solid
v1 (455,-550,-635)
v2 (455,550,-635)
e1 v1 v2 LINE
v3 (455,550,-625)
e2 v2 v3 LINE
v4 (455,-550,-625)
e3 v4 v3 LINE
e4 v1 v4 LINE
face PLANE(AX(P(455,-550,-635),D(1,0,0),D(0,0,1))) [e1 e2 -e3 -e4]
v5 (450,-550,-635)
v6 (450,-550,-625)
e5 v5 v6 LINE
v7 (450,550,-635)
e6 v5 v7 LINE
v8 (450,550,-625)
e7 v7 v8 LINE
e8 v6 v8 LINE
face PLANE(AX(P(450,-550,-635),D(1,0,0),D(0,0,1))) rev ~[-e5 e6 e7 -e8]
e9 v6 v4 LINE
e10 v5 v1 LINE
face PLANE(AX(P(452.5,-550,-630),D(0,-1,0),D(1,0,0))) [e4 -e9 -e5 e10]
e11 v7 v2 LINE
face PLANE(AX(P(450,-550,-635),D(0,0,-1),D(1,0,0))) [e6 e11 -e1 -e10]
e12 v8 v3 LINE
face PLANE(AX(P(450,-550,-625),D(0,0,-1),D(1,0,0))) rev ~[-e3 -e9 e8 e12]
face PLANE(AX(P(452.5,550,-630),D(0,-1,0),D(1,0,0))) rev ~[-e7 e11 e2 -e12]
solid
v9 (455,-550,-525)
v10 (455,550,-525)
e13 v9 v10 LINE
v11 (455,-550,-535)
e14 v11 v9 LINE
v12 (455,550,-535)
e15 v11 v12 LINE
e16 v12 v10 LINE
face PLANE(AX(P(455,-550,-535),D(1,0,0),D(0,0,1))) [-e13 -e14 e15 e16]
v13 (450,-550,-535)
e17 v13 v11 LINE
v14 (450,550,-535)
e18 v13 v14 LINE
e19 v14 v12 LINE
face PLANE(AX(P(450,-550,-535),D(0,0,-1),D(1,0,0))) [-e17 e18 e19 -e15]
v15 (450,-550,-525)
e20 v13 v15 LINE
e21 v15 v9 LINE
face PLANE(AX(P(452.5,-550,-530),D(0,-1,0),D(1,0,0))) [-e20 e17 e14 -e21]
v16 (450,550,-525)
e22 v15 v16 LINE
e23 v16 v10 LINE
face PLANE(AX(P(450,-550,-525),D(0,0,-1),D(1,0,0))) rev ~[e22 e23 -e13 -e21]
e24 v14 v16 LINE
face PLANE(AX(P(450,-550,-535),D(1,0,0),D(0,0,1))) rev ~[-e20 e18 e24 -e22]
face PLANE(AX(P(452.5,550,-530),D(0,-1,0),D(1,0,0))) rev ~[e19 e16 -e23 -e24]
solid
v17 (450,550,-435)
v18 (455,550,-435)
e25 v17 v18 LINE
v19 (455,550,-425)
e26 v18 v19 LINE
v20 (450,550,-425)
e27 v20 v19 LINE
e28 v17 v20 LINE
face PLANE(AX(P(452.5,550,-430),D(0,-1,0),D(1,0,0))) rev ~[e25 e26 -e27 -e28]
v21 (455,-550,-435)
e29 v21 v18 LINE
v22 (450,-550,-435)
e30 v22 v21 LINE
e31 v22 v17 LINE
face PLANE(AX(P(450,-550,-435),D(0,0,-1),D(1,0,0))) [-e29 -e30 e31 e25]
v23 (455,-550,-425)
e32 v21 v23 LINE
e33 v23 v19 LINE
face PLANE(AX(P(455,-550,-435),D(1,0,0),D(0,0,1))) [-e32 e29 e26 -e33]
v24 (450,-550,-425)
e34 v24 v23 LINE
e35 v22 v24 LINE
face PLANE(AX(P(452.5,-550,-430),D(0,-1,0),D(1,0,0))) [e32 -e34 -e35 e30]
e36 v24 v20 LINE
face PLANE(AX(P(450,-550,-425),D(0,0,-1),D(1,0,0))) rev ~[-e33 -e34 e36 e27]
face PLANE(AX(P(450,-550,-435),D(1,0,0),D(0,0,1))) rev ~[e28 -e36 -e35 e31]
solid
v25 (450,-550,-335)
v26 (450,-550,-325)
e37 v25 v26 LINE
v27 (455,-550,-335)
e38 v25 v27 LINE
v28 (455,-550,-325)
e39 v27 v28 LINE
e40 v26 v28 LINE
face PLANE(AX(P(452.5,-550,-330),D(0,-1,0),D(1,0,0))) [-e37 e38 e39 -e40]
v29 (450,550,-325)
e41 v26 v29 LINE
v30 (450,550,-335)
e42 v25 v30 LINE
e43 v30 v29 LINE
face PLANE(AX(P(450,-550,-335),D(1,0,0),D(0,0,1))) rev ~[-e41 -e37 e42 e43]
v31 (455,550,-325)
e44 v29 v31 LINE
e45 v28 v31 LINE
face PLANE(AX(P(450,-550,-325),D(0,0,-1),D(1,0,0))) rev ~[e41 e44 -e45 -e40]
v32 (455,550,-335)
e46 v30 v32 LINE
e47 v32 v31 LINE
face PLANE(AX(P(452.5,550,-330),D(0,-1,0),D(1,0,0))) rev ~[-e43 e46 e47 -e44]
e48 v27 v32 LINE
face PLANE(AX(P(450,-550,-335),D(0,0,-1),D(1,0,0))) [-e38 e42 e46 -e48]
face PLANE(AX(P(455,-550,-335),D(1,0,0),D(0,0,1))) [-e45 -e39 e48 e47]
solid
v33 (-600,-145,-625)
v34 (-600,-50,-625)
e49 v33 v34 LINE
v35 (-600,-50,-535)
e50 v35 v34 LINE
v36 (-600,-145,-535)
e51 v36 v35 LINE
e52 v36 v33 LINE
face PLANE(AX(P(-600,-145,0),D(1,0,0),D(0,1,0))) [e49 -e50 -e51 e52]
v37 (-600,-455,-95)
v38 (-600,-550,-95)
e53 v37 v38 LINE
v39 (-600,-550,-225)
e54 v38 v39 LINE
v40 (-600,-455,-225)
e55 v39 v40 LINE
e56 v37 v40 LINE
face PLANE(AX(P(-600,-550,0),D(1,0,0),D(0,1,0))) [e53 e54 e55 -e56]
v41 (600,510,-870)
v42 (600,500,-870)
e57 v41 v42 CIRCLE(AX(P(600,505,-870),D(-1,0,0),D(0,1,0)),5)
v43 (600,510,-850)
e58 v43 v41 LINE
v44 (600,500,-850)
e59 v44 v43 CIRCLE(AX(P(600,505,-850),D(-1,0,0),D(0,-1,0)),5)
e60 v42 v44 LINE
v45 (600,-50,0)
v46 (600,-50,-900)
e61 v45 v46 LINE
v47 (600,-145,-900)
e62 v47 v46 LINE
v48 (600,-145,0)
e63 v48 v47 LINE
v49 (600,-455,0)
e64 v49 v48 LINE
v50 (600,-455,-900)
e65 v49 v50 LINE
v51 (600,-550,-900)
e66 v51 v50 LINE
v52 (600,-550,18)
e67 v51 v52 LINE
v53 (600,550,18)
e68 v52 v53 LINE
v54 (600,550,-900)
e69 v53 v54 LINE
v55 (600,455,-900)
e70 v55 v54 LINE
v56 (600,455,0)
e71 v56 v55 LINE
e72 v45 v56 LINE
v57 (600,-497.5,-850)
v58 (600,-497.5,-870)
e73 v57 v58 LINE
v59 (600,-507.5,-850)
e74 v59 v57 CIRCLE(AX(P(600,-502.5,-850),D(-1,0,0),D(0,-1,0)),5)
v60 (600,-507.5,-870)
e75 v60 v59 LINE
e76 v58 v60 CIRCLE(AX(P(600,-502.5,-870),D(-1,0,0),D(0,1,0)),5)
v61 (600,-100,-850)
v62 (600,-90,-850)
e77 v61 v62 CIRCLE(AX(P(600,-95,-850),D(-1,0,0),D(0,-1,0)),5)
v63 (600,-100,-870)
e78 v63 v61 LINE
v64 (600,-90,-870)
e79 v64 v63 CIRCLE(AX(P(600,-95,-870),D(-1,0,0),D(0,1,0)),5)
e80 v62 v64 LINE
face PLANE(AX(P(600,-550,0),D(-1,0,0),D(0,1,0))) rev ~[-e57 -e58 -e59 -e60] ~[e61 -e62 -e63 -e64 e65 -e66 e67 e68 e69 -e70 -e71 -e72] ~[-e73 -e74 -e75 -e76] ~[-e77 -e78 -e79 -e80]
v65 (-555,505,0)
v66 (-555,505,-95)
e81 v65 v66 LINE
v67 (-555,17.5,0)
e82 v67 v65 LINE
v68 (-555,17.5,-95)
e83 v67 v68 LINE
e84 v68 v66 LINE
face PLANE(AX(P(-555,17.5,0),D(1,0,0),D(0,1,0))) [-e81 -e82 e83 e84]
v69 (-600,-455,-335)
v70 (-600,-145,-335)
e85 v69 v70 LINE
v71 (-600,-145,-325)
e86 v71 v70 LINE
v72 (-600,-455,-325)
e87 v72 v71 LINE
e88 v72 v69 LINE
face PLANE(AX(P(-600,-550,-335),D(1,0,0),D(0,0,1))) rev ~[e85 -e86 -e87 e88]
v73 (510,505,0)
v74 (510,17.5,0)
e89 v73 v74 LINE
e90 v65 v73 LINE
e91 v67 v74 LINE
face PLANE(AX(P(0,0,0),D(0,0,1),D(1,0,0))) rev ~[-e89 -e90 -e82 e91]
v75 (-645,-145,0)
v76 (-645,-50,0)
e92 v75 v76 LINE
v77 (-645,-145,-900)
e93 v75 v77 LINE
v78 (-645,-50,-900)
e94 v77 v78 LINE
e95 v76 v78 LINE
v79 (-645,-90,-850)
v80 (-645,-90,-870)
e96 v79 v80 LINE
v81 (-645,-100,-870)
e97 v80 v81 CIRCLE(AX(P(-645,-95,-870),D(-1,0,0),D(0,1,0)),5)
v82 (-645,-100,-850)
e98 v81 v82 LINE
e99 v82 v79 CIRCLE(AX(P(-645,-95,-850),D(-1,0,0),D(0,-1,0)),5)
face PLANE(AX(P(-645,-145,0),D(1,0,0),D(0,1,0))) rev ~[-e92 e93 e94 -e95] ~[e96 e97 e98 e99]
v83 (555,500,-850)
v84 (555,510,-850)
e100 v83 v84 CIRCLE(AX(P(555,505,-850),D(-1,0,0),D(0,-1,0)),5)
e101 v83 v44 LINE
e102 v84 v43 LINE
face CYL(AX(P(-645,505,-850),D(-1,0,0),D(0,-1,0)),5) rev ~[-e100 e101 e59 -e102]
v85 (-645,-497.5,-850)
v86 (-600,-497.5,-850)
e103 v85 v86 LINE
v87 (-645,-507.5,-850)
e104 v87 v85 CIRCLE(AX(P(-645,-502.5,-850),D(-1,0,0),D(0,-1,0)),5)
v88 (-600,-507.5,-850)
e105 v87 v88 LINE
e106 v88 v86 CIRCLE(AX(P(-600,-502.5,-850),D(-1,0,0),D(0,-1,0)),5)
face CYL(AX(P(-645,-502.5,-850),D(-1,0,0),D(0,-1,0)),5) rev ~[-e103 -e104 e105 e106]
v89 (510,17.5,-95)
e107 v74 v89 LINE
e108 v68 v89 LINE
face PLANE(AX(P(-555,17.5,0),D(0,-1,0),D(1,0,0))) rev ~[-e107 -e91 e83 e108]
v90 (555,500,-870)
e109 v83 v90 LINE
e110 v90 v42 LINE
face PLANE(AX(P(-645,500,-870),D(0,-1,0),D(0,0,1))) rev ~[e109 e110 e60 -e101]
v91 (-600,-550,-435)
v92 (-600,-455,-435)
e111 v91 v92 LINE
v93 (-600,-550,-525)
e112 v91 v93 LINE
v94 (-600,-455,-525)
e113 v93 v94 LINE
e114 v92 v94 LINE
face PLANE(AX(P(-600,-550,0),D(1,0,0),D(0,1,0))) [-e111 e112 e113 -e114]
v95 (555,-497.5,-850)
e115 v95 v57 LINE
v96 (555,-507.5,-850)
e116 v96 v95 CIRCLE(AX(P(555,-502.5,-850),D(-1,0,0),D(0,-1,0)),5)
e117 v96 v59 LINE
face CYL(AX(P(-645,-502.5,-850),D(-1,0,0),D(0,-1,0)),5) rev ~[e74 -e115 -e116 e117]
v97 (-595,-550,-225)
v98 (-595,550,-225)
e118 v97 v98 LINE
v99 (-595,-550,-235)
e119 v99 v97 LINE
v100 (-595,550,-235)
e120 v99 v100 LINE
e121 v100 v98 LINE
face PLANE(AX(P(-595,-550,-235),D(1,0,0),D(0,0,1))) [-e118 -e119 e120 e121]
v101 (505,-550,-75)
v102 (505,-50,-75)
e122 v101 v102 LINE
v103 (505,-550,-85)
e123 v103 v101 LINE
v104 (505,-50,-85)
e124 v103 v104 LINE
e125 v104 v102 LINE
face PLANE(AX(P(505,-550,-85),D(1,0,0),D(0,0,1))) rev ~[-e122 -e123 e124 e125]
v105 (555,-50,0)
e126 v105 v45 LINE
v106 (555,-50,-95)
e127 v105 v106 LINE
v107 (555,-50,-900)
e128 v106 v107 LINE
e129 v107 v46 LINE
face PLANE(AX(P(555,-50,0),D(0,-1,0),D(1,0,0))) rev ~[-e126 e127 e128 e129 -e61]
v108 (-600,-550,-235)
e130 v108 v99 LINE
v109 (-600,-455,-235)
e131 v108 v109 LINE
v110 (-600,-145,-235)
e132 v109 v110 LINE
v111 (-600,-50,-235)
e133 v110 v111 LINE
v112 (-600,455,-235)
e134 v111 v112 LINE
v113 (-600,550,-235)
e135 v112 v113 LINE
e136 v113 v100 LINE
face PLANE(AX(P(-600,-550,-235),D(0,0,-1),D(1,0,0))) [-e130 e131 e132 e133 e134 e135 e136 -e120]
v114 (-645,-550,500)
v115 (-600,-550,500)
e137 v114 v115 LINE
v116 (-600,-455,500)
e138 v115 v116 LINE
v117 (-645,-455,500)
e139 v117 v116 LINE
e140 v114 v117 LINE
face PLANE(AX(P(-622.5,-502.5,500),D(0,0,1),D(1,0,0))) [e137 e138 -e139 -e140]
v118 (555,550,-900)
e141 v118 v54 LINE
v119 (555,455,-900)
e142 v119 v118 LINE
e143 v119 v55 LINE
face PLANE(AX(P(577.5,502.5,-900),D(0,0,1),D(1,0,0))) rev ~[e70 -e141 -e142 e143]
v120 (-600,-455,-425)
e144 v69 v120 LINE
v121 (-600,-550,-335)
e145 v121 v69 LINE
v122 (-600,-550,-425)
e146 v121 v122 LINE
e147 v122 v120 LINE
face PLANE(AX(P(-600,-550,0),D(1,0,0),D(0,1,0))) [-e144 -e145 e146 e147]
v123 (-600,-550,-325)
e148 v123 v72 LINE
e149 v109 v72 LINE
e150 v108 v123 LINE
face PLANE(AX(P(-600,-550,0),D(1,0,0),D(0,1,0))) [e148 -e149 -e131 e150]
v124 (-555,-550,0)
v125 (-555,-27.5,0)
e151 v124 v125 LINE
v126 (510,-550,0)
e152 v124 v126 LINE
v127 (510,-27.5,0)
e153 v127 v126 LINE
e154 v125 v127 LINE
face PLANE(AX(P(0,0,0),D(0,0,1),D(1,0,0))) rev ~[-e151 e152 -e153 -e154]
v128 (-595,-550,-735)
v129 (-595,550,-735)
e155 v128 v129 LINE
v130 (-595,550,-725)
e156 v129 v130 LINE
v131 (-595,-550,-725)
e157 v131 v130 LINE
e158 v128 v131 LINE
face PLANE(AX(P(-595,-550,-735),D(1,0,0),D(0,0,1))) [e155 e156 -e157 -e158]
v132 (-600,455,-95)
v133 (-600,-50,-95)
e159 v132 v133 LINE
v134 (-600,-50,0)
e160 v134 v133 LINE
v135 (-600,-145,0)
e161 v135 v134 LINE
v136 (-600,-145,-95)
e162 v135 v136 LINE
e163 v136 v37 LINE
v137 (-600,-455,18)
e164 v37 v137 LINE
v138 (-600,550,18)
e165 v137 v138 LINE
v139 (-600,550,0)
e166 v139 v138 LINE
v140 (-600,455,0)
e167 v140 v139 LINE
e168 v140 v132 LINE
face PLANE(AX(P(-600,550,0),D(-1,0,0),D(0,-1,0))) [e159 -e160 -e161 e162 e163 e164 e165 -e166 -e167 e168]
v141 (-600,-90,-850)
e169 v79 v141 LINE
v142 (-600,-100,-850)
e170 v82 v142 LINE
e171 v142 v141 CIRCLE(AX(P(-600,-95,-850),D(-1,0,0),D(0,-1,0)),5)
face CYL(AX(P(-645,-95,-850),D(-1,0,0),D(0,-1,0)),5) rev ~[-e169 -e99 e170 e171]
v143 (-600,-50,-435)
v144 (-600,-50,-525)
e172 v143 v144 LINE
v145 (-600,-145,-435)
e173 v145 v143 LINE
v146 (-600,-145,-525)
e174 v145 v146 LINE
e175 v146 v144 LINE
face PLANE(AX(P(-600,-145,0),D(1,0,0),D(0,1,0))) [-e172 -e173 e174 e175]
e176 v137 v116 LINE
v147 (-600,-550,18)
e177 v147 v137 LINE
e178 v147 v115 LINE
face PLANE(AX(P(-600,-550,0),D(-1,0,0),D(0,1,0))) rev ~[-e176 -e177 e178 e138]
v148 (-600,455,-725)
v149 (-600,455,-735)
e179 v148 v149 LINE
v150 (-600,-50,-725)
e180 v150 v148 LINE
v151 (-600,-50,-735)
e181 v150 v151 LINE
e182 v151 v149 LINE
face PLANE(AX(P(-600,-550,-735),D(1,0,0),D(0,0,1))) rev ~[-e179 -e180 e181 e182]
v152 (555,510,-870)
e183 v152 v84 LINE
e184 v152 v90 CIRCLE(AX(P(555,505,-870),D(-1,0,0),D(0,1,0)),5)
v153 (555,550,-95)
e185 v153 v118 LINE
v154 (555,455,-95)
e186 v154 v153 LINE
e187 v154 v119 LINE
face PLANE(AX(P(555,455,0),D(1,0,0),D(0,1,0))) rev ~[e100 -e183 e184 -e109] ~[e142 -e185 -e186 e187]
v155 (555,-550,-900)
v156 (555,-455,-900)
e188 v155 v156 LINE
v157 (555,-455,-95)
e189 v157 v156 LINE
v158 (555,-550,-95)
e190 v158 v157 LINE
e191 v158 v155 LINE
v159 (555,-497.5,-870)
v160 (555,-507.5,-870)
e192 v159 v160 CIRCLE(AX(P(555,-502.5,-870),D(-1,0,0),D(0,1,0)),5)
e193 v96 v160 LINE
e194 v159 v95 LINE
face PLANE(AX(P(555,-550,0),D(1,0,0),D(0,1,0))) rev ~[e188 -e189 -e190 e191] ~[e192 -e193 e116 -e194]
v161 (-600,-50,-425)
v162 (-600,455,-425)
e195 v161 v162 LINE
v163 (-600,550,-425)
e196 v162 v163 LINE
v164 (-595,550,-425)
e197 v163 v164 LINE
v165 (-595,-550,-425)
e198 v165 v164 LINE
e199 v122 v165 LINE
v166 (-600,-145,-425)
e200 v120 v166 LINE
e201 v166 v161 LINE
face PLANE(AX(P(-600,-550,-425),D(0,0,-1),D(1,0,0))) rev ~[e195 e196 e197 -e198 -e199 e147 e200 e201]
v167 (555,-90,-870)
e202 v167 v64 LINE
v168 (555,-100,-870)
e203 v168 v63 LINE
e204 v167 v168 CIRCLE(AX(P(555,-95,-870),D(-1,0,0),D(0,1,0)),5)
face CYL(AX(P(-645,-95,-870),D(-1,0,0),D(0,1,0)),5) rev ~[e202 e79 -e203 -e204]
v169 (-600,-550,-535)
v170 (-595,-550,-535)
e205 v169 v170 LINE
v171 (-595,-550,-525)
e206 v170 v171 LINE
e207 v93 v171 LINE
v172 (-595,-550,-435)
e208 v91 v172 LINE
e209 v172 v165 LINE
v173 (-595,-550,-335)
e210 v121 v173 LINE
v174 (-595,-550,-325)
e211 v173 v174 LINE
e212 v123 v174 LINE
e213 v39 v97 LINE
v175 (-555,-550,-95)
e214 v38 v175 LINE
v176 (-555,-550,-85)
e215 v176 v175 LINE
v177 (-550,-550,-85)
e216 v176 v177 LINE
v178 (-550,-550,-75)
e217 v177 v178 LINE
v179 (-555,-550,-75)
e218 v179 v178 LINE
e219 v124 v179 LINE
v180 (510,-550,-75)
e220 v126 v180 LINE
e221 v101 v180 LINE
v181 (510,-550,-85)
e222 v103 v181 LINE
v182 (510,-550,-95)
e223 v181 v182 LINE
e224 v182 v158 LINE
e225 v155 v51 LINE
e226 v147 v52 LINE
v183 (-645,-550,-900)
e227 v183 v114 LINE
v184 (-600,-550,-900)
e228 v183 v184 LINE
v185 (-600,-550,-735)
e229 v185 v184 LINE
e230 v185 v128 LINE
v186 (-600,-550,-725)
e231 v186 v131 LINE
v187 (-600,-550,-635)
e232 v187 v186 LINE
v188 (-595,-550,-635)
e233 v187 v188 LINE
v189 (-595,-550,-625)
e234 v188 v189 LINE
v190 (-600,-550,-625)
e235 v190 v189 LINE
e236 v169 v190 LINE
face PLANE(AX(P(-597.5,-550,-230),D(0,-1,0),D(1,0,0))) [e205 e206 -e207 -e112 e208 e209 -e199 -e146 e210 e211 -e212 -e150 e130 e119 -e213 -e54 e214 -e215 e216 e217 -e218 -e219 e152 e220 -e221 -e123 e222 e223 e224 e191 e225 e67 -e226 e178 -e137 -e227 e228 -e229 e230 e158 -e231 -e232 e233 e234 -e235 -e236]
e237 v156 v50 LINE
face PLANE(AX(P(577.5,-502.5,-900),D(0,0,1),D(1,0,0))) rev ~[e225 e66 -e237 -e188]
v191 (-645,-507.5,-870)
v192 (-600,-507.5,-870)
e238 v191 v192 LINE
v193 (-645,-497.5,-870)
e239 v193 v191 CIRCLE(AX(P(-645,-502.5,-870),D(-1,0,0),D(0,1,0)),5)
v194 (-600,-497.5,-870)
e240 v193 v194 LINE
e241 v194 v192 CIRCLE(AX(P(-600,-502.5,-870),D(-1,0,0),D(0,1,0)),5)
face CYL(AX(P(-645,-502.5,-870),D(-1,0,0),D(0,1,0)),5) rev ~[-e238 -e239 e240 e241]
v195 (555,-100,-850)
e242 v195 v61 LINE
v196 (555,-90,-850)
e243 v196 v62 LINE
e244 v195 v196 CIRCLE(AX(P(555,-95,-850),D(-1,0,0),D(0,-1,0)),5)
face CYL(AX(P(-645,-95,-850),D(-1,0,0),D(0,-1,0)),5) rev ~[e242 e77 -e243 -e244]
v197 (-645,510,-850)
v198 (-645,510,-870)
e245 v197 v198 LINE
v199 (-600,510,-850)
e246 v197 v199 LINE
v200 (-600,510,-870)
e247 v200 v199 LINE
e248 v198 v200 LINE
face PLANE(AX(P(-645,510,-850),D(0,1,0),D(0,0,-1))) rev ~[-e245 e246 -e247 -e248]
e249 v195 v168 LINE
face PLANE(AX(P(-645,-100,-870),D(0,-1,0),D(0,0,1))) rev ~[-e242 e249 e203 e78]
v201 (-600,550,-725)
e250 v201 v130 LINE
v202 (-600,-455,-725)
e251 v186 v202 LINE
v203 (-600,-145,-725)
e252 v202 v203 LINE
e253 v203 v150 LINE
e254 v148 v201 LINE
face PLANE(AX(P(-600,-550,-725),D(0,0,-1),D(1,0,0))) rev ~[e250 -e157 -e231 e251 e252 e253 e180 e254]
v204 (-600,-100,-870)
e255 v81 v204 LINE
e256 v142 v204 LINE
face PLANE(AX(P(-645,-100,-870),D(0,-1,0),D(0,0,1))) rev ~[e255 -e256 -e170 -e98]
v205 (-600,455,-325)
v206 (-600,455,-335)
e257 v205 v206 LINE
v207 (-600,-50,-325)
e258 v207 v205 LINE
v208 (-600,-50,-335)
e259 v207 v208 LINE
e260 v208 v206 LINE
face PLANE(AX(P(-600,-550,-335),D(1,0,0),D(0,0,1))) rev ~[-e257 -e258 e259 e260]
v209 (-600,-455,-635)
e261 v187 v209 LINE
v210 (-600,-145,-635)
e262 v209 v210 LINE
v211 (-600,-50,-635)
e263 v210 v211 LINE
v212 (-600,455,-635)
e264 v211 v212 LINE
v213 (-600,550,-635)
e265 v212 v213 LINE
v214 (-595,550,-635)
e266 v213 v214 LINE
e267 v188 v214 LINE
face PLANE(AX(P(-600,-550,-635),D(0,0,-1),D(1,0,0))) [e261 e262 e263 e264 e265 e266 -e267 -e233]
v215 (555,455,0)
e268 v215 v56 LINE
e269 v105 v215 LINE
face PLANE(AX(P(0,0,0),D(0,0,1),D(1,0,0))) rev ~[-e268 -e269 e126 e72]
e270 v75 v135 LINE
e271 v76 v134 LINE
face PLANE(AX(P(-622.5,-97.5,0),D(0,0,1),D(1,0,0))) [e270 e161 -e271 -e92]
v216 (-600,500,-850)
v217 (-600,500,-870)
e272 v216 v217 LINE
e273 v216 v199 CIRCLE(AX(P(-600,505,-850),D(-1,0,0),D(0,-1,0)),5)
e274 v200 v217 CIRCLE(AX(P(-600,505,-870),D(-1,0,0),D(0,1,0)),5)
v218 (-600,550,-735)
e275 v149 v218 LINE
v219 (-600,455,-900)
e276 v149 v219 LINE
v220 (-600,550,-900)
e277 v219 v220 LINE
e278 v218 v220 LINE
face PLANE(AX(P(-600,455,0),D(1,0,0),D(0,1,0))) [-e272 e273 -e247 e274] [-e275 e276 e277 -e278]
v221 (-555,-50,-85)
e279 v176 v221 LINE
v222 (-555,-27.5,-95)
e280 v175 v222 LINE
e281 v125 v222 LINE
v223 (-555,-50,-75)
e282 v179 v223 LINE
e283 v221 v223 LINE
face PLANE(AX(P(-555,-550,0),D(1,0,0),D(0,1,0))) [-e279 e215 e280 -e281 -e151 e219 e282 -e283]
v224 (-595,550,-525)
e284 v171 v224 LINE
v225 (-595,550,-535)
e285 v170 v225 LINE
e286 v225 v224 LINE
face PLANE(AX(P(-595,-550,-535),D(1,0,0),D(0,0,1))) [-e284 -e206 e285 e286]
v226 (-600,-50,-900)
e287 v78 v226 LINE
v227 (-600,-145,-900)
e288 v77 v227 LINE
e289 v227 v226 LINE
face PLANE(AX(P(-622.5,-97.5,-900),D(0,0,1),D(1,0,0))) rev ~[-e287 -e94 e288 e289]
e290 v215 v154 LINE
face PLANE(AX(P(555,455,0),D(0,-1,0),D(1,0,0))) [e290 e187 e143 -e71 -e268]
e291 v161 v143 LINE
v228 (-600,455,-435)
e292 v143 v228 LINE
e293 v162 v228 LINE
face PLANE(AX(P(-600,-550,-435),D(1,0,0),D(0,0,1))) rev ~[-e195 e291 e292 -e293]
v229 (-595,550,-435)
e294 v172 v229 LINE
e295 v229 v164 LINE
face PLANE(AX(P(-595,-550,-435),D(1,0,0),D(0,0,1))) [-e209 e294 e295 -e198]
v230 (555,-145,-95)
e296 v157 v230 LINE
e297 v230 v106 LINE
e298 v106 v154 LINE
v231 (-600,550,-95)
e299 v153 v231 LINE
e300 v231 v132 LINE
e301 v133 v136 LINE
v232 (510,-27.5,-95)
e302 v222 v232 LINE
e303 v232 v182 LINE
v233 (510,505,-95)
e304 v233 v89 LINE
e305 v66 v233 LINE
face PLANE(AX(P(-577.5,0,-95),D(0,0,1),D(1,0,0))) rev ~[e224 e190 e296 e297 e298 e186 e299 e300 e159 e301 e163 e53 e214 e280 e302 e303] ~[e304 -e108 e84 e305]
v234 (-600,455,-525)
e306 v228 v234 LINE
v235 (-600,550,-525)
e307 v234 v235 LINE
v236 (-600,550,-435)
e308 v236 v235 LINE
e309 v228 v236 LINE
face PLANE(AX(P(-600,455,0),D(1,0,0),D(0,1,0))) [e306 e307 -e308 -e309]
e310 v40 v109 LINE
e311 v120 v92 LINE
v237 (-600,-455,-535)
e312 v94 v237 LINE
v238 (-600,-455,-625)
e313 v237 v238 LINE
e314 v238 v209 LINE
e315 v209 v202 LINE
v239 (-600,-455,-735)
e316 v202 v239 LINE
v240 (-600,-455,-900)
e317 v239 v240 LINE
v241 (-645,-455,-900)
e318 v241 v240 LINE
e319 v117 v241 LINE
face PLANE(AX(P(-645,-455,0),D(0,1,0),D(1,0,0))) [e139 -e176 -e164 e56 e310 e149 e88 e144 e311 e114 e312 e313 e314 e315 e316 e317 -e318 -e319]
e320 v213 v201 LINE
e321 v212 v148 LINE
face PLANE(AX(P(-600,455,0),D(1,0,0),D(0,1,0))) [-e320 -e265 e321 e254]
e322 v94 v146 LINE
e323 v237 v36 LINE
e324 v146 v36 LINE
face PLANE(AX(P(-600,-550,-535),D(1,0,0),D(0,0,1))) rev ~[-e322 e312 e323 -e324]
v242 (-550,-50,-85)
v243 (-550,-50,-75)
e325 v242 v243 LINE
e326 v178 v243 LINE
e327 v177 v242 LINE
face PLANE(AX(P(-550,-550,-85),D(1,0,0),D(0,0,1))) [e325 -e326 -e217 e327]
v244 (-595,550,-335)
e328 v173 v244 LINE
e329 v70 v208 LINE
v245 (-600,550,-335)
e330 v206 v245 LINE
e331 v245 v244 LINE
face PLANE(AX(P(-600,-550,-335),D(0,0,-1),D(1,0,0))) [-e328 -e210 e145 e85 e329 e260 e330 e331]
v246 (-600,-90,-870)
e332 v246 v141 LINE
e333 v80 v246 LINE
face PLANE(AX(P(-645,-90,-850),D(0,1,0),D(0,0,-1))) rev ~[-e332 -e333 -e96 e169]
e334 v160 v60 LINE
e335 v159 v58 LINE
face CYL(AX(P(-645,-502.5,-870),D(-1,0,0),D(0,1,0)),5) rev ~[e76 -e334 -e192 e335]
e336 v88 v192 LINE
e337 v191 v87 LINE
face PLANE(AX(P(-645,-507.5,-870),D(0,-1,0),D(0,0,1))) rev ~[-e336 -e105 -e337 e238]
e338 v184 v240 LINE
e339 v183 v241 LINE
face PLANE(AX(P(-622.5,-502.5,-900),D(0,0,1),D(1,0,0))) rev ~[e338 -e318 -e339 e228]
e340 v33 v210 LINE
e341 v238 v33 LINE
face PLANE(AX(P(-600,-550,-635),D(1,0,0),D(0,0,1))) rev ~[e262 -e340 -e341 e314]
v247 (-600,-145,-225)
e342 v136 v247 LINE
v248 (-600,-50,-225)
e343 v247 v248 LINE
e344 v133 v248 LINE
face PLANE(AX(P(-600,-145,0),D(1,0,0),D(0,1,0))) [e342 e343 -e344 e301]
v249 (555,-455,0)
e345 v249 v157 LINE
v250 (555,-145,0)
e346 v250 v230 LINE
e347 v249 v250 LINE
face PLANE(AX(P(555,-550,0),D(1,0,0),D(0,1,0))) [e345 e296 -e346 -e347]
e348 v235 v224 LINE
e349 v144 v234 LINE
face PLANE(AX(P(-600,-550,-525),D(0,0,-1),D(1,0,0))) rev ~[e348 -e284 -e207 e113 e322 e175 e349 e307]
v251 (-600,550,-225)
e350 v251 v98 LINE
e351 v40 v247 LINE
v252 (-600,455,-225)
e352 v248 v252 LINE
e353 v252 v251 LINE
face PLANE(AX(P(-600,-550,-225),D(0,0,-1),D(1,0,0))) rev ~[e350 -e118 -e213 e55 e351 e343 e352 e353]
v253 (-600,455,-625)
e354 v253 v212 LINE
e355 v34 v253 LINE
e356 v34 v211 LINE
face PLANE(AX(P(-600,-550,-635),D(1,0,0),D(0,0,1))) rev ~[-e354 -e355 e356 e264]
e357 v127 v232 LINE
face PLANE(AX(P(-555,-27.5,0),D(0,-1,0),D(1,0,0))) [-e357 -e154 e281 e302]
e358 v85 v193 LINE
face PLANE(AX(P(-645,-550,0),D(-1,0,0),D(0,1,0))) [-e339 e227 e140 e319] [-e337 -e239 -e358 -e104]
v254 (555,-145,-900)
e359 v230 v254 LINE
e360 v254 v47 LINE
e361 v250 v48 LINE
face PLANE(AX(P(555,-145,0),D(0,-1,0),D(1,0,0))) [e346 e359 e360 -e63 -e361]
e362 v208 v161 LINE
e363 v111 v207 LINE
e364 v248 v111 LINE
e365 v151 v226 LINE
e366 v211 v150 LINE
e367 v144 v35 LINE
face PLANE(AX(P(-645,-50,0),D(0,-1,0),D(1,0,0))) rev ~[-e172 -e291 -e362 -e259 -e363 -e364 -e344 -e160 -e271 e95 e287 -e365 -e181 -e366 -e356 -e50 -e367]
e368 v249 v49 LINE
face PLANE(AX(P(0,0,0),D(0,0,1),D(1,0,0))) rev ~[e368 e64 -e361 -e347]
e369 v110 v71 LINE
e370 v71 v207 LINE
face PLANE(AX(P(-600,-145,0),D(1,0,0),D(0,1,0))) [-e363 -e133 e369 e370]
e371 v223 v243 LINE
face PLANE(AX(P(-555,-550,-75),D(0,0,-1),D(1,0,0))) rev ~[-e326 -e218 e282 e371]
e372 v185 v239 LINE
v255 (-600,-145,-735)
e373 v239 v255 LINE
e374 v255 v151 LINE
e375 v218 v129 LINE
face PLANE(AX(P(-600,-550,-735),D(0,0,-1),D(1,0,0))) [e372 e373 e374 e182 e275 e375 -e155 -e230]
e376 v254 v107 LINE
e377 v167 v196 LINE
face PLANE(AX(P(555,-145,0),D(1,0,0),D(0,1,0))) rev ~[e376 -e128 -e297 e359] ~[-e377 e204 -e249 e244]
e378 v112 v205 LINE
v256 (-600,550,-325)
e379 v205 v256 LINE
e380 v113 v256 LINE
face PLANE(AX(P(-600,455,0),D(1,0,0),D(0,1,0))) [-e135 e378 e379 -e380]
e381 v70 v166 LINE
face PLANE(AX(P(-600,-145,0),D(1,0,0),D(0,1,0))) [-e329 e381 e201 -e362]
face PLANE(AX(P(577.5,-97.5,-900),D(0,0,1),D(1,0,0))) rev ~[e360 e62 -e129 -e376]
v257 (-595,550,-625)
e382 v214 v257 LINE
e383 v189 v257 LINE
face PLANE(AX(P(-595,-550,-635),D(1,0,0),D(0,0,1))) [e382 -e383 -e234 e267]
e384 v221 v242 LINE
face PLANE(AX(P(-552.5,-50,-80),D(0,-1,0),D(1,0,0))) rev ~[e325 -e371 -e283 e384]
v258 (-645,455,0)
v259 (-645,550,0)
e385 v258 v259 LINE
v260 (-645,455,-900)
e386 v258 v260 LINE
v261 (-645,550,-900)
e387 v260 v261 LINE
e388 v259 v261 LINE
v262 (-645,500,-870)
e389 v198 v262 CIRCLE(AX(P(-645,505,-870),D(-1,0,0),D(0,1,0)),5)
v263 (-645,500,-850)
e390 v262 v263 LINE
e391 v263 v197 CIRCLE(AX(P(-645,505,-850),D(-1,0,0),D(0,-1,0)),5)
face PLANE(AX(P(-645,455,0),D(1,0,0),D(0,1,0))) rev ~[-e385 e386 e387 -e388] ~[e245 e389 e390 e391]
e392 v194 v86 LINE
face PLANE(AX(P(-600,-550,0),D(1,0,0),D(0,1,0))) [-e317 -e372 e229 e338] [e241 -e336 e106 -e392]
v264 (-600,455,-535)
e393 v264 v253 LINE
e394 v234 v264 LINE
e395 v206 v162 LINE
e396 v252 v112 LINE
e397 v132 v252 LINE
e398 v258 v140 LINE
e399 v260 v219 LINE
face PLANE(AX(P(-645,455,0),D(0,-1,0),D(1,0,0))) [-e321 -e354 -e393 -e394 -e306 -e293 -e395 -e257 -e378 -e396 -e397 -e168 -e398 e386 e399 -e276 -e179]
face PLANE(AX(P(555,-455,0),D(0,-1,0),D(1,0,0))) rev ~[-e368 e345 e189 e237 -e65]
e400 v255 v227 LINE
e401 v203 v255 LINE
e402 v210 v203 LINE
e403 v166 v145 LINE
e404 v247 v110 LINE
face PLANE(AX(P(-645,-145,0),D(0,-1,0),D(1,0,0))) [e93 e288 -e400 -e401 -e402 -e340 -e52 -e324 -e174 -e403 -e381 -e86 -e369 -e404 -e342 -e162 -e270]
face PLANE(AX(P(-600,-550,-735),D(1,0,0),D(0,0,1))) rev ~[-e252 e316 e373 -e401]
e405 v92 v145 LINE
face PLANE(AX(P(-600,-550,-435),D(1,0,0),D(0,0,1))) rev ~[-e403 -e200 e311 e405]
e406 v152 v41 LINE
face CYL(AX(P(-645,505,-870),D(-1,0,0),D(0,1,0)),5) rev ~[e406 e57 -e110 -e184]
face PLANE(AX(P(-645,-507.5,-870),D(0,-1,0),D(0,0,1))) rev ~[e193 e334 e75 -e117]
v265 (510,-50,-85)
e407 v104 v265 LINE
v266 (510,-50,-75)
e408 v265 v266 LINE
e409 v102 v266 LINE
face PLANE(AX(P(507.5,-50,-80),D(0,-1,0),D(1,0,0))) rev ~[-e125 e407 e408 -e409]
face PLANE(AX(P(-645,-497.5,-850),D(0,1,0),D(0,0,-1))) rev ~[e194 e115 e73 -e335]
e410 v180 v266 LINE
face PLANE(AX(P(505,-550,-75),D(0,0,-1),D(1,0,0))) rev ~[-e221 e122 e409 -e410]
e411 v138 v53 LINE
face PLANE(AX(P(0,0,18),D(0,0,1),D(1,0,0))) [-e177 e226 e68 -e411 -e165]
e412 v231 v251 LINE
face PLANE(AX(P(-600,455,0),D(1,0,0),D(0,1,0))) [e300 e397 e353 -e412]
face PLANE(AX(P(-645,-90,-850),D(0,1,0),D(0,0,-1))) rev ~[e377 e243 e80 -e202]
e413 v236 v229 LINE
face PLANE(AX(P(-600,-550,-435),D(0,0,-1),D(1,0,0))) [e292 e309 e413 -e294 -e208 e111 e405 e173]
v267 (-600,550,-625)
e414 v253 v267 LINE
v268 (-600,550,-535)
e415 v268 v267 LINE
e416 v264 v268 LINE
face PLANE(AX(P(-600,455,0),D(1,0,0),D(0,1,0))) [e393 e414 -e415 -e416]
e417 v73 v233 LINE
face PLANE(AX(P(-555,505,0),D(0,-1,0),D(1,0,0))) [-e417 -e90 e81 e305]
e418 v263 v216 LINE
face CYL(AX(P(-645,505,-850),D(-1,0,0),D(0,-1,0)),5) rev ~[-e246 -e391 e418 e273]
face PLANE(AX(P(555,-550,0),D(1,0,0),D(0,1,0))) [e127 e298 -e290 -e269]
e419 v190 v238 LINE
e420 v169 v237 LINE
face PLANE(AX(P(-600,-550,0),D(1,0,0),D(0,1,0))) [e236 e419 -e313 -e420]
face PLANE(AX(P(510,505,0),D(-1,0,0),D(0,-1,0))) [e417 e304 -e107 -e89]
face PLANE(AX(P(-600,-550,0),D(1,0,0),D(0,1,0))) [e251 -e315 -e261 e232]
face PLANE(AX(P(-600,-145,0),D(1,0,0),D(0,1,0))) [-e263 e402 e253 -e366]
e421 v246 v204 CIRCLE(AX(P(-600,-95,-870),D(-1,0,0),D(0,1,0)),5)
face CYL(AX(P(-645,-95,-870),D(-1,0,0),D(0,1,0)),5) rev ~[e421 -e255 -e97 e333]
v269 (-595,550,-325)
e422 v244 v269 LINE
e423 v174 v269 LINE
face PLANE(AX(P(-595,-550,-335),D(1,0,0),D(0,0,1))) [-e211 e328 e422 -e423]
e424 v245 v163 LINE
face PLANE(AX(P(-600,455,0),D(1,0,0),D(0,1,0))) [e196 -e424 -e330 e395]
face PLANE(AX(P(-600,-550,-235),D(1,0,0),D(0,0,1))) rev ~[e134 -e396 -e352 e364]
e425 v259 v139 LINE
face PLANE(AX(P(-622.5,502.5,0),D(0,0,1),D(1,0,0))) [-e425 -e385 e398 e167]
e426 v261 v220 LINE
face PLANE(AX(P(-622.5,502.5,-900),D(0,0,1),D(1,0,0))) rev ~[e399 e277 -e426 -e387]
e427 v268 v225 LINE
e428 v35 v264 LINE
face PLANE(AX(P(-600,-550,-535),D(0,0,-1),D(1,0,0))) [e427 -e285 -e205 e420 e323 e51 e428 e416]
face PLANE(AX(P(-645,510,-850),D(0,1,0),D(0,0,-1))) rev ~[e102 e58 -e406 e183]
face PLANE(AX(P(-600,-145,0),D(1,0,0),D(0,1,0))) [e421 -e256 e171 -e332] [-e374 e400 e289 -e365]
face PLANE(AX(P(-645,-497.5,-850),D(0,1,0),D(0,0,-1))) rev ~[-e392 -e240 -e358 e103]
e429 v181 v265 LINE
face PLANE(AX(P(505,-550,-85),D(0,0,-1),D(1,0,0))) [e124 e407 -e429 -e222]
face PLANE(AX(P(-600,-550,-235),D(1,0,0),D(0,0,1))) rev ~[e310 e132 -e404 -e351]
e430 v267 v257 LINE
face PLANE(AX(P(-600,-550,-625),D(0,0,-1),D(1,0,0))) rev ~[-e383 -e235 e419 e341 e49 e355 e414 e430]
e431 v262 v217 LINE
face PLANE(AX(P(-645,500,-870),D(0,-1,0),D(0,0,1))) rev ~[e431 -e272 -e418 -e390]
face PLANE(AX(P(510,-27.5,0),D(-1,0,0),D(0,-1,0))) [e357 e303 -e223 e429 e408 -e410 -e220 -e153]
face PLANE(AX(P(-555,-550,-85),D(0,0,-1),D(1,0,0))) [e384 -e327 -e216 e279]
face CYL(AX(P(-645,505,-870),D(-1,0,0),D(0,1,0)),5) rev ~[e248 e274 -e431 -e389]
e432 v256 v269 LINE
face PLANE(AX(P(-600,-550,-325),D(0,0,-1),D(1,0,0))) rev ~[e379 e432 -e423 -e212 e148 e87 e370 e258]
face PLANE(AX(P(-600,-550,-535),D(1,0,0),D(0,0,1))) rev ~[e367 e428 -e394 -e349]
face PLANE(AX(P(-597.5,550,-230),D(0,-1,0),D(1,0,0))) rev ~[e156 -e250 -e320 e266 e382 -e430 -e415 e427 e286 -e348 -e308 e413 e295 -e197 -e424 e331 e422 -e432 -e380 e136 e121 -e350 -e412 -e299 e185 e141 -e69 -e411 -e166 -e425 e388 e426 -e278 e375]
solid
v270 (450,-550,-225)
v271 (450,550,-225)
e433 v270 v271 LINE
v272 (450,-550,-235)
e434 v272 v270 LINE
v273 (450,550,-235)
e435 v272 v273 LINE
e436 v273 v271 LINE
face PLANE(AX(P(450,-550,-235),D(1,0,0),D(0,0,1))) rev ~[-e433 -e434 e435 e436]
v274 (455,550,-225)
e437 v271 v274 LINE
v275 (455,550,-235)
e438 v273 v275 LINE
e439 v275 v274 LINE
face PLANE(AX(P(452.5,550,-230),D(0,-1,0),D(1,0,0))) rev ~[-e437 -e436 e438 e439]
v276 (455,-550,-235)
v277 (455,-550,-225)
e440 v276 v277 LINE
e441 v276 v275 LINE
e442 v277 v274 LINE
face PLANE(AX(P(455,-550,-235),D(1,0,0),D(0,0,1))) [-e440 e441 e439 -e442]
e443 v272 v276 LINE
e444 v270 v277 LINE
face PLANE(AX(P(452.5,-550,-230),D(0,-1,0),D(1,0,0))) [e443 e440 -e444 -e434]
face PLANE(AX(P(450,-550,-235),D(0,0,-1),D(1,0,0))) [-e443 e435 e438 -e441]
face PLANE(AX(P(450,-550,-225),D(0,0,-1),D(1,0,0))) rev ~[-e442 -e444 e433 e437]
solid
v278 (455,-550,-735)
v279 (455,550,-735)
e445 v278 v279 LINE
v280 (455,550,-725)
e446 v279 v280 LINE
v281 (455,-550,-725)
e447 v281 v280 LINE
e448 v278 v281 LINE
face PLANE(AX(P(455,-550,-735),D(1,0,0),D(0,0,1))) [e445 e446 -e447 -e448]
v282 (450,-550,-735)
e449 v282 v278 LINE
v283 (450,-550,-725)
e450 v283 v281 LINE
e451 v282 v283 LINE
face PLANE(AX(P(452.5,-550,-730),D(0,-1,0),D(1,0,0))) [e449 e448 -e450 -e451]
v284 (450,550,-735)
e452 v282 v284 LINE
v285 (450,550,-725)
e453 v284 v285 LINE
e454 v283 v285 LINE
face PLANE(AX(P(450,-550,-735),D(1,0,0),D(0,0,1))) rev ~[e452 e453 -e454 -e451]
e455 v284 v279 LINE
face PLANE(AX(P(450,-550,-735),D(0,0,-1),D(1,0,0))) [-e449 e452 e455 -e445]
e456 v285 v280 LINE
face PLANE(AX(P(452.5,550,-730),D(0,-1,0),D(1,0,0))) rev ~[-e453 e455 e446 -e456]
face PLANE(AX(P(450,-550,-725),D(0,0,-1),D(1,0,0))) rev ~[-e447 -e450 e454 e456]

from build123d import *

# Parameters (mm, degrees)
F0_W      = 1200
F0_H      = 1100
F2_DEPTH  = 18
F3_W      = 45
F3_H      = 95
F4_DEPTH  = 900
F5_DEPTH  = 500
F1_W      = 1065
F1_H      = 45
F6_DEPTH  = 95
F8_DEPTH  = 2000
F9_W      = 5
F9_H      = 10
F10_DEPTH = 500
F11_W     = 5
F11_H     = 10
F12_DEPTH = 500
F13_W     = 5
F13_H     = 10
F14_DEPTH = 1100


with BuildPart() as f2:
    # F0 (on Top) → F2 (new body)
    with BuildSketch(Plane.XY):
        Rectangle(F0_W, F0_H)
    extrude(amount=F2_DEPTH)

    # F3 (on Top) → F4 (join)
    with BuildSketch(Plane.XY):
        with Locations((-622.5, 502.5)):
            Rectangle(F3_W, F3_H)
        with Locations((-622.5, -97.5)):
            Rectangle(F3_W, F3_H)
        with Locations((-622.5, -502.5)):
            Rectangle(F3_W, F3_H)
        with Locations((577.5, -502.5)):
            Rectangle(F3_W, F3_H)
        with Locations((577.5, -97.5)):
            Rectangle(F3_W, F3_H)
        with Locations((577.5, 502.5)):
            Rectangle(F3_W, F3_H)
    extrude(amount=-F4_DEPTH)

    # F5 (add): a face of the model
    f5_faces = [f2.faces().sort_by_distance(p)[0] for p in [
        (-622.5, -502.5, 0),
    ]]
    extrude(f5_faces, amount=F5_DEPTH)

    # F1 (on Top) → F6 (join)
    with BuildSketch(Plane.XY):
        Polygon((-555, 550), (-600, 550), (-600, -550), (-555, -550), (-555, -27.5), (-555, 17.5), (-555, 505), align=None)
        with Locations((-22.5, 527.5)):
            Rectangle(F1_W, F1_H)
        with Locations((-22.5, -5)):
            Rectangle(F1_W, F1_H)
        Polygon((555, 550), (510, 550), (510, 505), (510, 17.5), (510, -27.5), (510, -550), (555, -550), align=None)
    extrude(amount=-F6_DEPTH)

    # F7 (on face) → F8 (cut)
    with BuildSketch(Plane(origin=(-645, 0, 0), x_dir=(0, -1, 0), z_dir=(-1, 0, 0))):
        with BuildLine():
            ThreePointArc((507.5, -870), (502.5, -865), (497.5, -870))
            Line((497.5, -870), (507.5, -870))
        make_face()
        with BuildLine():
            Line((497.5, -850), (497.5, -870))
            ThreePointArc((497.5, -870), (502.5, -865), (507.5, -870))
            Line((507.5, -870), (507.5, -850))
            ThreePointArc((507.5, -850), (502.5, -855), (497.5, -850))
        make_face()
        with BuildLine():
            Line((507.5, -870), (497.5, -870))
            ThreePointArc((497.5, -870), (502.5, -875), (507.5, -870))
        make_face()
        with BuildLine():
            ThreePointArc((507.5, -850), (502.5, -845), (497.5, -850))
            Line((497.5, -850), (507.5, -850))
        make_face()
        with BuildLine():
            Line((507.5, -850), (497.5, -850))
            ThreePointArc((497.5, -850), (502.5, -855), (507.5, -850))
        make_face()
        with BuildLine():
            ThreePointArc((100, -850), (95, -845), (90, -850))
            Line((90, -850), (100, -850))
        make_face()
        with BuildLine():
            ThreePointArc((100, -850), (95, -855), (90, -850))
            Line((90, -850), (90, -870))
            ThreePointArc((90, -870), (95, -865), (100, -870))
            Line((100, -870), (100, -850))
        make_face()
        with BuildLine():
            Line((100, -850), (90, -850))
            ThreePointArc((90, -850), (95, -855), (100, -850))
        make_face()
        with BuildLine():
            ThreePointArc((100, -870), (95, -865), (90, -870))
            Line((90, -870), (100, -870))
        make_face()
        with BuildLine():
            Line((100, -870), (90, -870))
            ThreePointArc((90, -870), (95, -875), (100, -870))
        make_face()
        with BuildLine():
            ThreePointArc((-500, -850), (-505, -845), (-510, -850))
            Line((-510, -850), (-500, -850))
        make_face()
        with BuildLine():
            ThreePointArc((-500, -850), (-505, -855), (-510, -850))
            Line((-510, -850), (-510, -870))
            ThreePointArc((-510, -870), (-505, -865), (-500, -870))
            Line((-500, -870), (-500, -850))
        make_face()
        with BuildLine():
            Line((-500, -850), (-510, -850))
            ThreePointArc((-510, -850), (-505, -855), (-500, -850))
        make_face()
        with BuildLine():
            ThreePointArc((-500, -870), (-505, -865), (-510, -870))
            Line((-510, -870), (-500, -870))
        make_face()
        with BuildLine():
            Line((-500, -870), (-510, -870))
            ThreePointArc((-510, -870), (-505, -875), (-500, -870))
        make_face()
    extrude(amount=-F8_DEPTH, mode=Mode.SUBTRACT)

    # F9 (on face) → F10 (join)
    with BuildSketch(Plane.XZ.offset(550)):
        with Locations((-552.5, -80)):
            Rectangle(F9_W, F9_H)
    extrude(amount=-F10_DEPTH)

    # F11 (on face) → F12 (join)
    with BuildSketch(Plane.XZ.offset(550)):
        with Locations((507.5, -80)):
            Rectangle(F11_W, F11_H)
    extrude(amount=-F12_DEPTH)

    # F13 (on face) → F14 (join)
    with BuildSketch(Plane.XZ.offset(550)):
        with Locations((-597.5, -230)):
            Rectangle(F13_W, F13_H)
        with Locations((-597.5, -330)):
            Rectangle(F13_W, F13_H)
        with Locations((-597.5, -430)):
            Rectangle(F13_W, F13_H)
        with Locations((-597.5, -530)):
            Rectangle(F13_W, F13_H)
        with Locations((-597.5, -630)):
            Rectangle(F13_W, F13_H)
        with Locations((-597.5, -730)):
            Rectangle(F13_W, F13_H)
    extrude(amount=-F14_DEPTH)


with BuildPart() as f14:
    # F13 (on face) → F14, piece 2 (new body)
    with BuildSketch(Plane.XZ.offset(550)):
        with Locations((452.5, -230)):
            Rectangle(F13_W, F13_H)
    extrude(amount=-F14_DEPTH)


with BuildPart() as f14b:
    # F13 (on face) → F14, piece 3 (new body)
    with BuildSketch(Plane.XZ.offset(550)):
        with Locations((452.5, -330)):
            Rectangle(F13_W, F13_H)
    extrude(amount=-F14_DEPTH)


with BuildPart() as f14c:
    # F13 (on face) → F14, piece 4 (new body)
    with BuildSketch(Plane.XZ.offset(550)):
        with Locations((452.5, -430)):
            Rectangle(F13_W, F13_H)
    extrude(amount=-F14_DEPTH)


with BuildPart() as f14d:
    # F13 (on face) → F14, piece 5 (new body)
    with BuildSketch(Plane.XZ.offset(550)):
        with Locations((452.5, -530)):
            Rectangle(F13_W, F13_H)
    extrude(amount=-F14_DEPTH)


with BuildPart() as f14e:
    # F13 (on face) → F14, piece 6 (new body)
    with BuildSketch(Plane.XZ.offset(550)):
        with Locations((452.5, -630)):
            Rectangle(F13_W, F13_H)
    extrude(amount=-F14_DEPTH)


with BuildPart() as f14f:
    # F13 (on face) → F14, piece 7 (new body)
    with BuildSketch(Plane.XZ.offset(550)):
        with Locations((452.5, -730)):
            Rectangle(F13_W, F13_H)
    extrude(amount=-F14_DEPTH)


solid = Compound([f2.part, f14.part, f14b.part, f14c.part, f14d.part, f14e.part, f14f.part])
